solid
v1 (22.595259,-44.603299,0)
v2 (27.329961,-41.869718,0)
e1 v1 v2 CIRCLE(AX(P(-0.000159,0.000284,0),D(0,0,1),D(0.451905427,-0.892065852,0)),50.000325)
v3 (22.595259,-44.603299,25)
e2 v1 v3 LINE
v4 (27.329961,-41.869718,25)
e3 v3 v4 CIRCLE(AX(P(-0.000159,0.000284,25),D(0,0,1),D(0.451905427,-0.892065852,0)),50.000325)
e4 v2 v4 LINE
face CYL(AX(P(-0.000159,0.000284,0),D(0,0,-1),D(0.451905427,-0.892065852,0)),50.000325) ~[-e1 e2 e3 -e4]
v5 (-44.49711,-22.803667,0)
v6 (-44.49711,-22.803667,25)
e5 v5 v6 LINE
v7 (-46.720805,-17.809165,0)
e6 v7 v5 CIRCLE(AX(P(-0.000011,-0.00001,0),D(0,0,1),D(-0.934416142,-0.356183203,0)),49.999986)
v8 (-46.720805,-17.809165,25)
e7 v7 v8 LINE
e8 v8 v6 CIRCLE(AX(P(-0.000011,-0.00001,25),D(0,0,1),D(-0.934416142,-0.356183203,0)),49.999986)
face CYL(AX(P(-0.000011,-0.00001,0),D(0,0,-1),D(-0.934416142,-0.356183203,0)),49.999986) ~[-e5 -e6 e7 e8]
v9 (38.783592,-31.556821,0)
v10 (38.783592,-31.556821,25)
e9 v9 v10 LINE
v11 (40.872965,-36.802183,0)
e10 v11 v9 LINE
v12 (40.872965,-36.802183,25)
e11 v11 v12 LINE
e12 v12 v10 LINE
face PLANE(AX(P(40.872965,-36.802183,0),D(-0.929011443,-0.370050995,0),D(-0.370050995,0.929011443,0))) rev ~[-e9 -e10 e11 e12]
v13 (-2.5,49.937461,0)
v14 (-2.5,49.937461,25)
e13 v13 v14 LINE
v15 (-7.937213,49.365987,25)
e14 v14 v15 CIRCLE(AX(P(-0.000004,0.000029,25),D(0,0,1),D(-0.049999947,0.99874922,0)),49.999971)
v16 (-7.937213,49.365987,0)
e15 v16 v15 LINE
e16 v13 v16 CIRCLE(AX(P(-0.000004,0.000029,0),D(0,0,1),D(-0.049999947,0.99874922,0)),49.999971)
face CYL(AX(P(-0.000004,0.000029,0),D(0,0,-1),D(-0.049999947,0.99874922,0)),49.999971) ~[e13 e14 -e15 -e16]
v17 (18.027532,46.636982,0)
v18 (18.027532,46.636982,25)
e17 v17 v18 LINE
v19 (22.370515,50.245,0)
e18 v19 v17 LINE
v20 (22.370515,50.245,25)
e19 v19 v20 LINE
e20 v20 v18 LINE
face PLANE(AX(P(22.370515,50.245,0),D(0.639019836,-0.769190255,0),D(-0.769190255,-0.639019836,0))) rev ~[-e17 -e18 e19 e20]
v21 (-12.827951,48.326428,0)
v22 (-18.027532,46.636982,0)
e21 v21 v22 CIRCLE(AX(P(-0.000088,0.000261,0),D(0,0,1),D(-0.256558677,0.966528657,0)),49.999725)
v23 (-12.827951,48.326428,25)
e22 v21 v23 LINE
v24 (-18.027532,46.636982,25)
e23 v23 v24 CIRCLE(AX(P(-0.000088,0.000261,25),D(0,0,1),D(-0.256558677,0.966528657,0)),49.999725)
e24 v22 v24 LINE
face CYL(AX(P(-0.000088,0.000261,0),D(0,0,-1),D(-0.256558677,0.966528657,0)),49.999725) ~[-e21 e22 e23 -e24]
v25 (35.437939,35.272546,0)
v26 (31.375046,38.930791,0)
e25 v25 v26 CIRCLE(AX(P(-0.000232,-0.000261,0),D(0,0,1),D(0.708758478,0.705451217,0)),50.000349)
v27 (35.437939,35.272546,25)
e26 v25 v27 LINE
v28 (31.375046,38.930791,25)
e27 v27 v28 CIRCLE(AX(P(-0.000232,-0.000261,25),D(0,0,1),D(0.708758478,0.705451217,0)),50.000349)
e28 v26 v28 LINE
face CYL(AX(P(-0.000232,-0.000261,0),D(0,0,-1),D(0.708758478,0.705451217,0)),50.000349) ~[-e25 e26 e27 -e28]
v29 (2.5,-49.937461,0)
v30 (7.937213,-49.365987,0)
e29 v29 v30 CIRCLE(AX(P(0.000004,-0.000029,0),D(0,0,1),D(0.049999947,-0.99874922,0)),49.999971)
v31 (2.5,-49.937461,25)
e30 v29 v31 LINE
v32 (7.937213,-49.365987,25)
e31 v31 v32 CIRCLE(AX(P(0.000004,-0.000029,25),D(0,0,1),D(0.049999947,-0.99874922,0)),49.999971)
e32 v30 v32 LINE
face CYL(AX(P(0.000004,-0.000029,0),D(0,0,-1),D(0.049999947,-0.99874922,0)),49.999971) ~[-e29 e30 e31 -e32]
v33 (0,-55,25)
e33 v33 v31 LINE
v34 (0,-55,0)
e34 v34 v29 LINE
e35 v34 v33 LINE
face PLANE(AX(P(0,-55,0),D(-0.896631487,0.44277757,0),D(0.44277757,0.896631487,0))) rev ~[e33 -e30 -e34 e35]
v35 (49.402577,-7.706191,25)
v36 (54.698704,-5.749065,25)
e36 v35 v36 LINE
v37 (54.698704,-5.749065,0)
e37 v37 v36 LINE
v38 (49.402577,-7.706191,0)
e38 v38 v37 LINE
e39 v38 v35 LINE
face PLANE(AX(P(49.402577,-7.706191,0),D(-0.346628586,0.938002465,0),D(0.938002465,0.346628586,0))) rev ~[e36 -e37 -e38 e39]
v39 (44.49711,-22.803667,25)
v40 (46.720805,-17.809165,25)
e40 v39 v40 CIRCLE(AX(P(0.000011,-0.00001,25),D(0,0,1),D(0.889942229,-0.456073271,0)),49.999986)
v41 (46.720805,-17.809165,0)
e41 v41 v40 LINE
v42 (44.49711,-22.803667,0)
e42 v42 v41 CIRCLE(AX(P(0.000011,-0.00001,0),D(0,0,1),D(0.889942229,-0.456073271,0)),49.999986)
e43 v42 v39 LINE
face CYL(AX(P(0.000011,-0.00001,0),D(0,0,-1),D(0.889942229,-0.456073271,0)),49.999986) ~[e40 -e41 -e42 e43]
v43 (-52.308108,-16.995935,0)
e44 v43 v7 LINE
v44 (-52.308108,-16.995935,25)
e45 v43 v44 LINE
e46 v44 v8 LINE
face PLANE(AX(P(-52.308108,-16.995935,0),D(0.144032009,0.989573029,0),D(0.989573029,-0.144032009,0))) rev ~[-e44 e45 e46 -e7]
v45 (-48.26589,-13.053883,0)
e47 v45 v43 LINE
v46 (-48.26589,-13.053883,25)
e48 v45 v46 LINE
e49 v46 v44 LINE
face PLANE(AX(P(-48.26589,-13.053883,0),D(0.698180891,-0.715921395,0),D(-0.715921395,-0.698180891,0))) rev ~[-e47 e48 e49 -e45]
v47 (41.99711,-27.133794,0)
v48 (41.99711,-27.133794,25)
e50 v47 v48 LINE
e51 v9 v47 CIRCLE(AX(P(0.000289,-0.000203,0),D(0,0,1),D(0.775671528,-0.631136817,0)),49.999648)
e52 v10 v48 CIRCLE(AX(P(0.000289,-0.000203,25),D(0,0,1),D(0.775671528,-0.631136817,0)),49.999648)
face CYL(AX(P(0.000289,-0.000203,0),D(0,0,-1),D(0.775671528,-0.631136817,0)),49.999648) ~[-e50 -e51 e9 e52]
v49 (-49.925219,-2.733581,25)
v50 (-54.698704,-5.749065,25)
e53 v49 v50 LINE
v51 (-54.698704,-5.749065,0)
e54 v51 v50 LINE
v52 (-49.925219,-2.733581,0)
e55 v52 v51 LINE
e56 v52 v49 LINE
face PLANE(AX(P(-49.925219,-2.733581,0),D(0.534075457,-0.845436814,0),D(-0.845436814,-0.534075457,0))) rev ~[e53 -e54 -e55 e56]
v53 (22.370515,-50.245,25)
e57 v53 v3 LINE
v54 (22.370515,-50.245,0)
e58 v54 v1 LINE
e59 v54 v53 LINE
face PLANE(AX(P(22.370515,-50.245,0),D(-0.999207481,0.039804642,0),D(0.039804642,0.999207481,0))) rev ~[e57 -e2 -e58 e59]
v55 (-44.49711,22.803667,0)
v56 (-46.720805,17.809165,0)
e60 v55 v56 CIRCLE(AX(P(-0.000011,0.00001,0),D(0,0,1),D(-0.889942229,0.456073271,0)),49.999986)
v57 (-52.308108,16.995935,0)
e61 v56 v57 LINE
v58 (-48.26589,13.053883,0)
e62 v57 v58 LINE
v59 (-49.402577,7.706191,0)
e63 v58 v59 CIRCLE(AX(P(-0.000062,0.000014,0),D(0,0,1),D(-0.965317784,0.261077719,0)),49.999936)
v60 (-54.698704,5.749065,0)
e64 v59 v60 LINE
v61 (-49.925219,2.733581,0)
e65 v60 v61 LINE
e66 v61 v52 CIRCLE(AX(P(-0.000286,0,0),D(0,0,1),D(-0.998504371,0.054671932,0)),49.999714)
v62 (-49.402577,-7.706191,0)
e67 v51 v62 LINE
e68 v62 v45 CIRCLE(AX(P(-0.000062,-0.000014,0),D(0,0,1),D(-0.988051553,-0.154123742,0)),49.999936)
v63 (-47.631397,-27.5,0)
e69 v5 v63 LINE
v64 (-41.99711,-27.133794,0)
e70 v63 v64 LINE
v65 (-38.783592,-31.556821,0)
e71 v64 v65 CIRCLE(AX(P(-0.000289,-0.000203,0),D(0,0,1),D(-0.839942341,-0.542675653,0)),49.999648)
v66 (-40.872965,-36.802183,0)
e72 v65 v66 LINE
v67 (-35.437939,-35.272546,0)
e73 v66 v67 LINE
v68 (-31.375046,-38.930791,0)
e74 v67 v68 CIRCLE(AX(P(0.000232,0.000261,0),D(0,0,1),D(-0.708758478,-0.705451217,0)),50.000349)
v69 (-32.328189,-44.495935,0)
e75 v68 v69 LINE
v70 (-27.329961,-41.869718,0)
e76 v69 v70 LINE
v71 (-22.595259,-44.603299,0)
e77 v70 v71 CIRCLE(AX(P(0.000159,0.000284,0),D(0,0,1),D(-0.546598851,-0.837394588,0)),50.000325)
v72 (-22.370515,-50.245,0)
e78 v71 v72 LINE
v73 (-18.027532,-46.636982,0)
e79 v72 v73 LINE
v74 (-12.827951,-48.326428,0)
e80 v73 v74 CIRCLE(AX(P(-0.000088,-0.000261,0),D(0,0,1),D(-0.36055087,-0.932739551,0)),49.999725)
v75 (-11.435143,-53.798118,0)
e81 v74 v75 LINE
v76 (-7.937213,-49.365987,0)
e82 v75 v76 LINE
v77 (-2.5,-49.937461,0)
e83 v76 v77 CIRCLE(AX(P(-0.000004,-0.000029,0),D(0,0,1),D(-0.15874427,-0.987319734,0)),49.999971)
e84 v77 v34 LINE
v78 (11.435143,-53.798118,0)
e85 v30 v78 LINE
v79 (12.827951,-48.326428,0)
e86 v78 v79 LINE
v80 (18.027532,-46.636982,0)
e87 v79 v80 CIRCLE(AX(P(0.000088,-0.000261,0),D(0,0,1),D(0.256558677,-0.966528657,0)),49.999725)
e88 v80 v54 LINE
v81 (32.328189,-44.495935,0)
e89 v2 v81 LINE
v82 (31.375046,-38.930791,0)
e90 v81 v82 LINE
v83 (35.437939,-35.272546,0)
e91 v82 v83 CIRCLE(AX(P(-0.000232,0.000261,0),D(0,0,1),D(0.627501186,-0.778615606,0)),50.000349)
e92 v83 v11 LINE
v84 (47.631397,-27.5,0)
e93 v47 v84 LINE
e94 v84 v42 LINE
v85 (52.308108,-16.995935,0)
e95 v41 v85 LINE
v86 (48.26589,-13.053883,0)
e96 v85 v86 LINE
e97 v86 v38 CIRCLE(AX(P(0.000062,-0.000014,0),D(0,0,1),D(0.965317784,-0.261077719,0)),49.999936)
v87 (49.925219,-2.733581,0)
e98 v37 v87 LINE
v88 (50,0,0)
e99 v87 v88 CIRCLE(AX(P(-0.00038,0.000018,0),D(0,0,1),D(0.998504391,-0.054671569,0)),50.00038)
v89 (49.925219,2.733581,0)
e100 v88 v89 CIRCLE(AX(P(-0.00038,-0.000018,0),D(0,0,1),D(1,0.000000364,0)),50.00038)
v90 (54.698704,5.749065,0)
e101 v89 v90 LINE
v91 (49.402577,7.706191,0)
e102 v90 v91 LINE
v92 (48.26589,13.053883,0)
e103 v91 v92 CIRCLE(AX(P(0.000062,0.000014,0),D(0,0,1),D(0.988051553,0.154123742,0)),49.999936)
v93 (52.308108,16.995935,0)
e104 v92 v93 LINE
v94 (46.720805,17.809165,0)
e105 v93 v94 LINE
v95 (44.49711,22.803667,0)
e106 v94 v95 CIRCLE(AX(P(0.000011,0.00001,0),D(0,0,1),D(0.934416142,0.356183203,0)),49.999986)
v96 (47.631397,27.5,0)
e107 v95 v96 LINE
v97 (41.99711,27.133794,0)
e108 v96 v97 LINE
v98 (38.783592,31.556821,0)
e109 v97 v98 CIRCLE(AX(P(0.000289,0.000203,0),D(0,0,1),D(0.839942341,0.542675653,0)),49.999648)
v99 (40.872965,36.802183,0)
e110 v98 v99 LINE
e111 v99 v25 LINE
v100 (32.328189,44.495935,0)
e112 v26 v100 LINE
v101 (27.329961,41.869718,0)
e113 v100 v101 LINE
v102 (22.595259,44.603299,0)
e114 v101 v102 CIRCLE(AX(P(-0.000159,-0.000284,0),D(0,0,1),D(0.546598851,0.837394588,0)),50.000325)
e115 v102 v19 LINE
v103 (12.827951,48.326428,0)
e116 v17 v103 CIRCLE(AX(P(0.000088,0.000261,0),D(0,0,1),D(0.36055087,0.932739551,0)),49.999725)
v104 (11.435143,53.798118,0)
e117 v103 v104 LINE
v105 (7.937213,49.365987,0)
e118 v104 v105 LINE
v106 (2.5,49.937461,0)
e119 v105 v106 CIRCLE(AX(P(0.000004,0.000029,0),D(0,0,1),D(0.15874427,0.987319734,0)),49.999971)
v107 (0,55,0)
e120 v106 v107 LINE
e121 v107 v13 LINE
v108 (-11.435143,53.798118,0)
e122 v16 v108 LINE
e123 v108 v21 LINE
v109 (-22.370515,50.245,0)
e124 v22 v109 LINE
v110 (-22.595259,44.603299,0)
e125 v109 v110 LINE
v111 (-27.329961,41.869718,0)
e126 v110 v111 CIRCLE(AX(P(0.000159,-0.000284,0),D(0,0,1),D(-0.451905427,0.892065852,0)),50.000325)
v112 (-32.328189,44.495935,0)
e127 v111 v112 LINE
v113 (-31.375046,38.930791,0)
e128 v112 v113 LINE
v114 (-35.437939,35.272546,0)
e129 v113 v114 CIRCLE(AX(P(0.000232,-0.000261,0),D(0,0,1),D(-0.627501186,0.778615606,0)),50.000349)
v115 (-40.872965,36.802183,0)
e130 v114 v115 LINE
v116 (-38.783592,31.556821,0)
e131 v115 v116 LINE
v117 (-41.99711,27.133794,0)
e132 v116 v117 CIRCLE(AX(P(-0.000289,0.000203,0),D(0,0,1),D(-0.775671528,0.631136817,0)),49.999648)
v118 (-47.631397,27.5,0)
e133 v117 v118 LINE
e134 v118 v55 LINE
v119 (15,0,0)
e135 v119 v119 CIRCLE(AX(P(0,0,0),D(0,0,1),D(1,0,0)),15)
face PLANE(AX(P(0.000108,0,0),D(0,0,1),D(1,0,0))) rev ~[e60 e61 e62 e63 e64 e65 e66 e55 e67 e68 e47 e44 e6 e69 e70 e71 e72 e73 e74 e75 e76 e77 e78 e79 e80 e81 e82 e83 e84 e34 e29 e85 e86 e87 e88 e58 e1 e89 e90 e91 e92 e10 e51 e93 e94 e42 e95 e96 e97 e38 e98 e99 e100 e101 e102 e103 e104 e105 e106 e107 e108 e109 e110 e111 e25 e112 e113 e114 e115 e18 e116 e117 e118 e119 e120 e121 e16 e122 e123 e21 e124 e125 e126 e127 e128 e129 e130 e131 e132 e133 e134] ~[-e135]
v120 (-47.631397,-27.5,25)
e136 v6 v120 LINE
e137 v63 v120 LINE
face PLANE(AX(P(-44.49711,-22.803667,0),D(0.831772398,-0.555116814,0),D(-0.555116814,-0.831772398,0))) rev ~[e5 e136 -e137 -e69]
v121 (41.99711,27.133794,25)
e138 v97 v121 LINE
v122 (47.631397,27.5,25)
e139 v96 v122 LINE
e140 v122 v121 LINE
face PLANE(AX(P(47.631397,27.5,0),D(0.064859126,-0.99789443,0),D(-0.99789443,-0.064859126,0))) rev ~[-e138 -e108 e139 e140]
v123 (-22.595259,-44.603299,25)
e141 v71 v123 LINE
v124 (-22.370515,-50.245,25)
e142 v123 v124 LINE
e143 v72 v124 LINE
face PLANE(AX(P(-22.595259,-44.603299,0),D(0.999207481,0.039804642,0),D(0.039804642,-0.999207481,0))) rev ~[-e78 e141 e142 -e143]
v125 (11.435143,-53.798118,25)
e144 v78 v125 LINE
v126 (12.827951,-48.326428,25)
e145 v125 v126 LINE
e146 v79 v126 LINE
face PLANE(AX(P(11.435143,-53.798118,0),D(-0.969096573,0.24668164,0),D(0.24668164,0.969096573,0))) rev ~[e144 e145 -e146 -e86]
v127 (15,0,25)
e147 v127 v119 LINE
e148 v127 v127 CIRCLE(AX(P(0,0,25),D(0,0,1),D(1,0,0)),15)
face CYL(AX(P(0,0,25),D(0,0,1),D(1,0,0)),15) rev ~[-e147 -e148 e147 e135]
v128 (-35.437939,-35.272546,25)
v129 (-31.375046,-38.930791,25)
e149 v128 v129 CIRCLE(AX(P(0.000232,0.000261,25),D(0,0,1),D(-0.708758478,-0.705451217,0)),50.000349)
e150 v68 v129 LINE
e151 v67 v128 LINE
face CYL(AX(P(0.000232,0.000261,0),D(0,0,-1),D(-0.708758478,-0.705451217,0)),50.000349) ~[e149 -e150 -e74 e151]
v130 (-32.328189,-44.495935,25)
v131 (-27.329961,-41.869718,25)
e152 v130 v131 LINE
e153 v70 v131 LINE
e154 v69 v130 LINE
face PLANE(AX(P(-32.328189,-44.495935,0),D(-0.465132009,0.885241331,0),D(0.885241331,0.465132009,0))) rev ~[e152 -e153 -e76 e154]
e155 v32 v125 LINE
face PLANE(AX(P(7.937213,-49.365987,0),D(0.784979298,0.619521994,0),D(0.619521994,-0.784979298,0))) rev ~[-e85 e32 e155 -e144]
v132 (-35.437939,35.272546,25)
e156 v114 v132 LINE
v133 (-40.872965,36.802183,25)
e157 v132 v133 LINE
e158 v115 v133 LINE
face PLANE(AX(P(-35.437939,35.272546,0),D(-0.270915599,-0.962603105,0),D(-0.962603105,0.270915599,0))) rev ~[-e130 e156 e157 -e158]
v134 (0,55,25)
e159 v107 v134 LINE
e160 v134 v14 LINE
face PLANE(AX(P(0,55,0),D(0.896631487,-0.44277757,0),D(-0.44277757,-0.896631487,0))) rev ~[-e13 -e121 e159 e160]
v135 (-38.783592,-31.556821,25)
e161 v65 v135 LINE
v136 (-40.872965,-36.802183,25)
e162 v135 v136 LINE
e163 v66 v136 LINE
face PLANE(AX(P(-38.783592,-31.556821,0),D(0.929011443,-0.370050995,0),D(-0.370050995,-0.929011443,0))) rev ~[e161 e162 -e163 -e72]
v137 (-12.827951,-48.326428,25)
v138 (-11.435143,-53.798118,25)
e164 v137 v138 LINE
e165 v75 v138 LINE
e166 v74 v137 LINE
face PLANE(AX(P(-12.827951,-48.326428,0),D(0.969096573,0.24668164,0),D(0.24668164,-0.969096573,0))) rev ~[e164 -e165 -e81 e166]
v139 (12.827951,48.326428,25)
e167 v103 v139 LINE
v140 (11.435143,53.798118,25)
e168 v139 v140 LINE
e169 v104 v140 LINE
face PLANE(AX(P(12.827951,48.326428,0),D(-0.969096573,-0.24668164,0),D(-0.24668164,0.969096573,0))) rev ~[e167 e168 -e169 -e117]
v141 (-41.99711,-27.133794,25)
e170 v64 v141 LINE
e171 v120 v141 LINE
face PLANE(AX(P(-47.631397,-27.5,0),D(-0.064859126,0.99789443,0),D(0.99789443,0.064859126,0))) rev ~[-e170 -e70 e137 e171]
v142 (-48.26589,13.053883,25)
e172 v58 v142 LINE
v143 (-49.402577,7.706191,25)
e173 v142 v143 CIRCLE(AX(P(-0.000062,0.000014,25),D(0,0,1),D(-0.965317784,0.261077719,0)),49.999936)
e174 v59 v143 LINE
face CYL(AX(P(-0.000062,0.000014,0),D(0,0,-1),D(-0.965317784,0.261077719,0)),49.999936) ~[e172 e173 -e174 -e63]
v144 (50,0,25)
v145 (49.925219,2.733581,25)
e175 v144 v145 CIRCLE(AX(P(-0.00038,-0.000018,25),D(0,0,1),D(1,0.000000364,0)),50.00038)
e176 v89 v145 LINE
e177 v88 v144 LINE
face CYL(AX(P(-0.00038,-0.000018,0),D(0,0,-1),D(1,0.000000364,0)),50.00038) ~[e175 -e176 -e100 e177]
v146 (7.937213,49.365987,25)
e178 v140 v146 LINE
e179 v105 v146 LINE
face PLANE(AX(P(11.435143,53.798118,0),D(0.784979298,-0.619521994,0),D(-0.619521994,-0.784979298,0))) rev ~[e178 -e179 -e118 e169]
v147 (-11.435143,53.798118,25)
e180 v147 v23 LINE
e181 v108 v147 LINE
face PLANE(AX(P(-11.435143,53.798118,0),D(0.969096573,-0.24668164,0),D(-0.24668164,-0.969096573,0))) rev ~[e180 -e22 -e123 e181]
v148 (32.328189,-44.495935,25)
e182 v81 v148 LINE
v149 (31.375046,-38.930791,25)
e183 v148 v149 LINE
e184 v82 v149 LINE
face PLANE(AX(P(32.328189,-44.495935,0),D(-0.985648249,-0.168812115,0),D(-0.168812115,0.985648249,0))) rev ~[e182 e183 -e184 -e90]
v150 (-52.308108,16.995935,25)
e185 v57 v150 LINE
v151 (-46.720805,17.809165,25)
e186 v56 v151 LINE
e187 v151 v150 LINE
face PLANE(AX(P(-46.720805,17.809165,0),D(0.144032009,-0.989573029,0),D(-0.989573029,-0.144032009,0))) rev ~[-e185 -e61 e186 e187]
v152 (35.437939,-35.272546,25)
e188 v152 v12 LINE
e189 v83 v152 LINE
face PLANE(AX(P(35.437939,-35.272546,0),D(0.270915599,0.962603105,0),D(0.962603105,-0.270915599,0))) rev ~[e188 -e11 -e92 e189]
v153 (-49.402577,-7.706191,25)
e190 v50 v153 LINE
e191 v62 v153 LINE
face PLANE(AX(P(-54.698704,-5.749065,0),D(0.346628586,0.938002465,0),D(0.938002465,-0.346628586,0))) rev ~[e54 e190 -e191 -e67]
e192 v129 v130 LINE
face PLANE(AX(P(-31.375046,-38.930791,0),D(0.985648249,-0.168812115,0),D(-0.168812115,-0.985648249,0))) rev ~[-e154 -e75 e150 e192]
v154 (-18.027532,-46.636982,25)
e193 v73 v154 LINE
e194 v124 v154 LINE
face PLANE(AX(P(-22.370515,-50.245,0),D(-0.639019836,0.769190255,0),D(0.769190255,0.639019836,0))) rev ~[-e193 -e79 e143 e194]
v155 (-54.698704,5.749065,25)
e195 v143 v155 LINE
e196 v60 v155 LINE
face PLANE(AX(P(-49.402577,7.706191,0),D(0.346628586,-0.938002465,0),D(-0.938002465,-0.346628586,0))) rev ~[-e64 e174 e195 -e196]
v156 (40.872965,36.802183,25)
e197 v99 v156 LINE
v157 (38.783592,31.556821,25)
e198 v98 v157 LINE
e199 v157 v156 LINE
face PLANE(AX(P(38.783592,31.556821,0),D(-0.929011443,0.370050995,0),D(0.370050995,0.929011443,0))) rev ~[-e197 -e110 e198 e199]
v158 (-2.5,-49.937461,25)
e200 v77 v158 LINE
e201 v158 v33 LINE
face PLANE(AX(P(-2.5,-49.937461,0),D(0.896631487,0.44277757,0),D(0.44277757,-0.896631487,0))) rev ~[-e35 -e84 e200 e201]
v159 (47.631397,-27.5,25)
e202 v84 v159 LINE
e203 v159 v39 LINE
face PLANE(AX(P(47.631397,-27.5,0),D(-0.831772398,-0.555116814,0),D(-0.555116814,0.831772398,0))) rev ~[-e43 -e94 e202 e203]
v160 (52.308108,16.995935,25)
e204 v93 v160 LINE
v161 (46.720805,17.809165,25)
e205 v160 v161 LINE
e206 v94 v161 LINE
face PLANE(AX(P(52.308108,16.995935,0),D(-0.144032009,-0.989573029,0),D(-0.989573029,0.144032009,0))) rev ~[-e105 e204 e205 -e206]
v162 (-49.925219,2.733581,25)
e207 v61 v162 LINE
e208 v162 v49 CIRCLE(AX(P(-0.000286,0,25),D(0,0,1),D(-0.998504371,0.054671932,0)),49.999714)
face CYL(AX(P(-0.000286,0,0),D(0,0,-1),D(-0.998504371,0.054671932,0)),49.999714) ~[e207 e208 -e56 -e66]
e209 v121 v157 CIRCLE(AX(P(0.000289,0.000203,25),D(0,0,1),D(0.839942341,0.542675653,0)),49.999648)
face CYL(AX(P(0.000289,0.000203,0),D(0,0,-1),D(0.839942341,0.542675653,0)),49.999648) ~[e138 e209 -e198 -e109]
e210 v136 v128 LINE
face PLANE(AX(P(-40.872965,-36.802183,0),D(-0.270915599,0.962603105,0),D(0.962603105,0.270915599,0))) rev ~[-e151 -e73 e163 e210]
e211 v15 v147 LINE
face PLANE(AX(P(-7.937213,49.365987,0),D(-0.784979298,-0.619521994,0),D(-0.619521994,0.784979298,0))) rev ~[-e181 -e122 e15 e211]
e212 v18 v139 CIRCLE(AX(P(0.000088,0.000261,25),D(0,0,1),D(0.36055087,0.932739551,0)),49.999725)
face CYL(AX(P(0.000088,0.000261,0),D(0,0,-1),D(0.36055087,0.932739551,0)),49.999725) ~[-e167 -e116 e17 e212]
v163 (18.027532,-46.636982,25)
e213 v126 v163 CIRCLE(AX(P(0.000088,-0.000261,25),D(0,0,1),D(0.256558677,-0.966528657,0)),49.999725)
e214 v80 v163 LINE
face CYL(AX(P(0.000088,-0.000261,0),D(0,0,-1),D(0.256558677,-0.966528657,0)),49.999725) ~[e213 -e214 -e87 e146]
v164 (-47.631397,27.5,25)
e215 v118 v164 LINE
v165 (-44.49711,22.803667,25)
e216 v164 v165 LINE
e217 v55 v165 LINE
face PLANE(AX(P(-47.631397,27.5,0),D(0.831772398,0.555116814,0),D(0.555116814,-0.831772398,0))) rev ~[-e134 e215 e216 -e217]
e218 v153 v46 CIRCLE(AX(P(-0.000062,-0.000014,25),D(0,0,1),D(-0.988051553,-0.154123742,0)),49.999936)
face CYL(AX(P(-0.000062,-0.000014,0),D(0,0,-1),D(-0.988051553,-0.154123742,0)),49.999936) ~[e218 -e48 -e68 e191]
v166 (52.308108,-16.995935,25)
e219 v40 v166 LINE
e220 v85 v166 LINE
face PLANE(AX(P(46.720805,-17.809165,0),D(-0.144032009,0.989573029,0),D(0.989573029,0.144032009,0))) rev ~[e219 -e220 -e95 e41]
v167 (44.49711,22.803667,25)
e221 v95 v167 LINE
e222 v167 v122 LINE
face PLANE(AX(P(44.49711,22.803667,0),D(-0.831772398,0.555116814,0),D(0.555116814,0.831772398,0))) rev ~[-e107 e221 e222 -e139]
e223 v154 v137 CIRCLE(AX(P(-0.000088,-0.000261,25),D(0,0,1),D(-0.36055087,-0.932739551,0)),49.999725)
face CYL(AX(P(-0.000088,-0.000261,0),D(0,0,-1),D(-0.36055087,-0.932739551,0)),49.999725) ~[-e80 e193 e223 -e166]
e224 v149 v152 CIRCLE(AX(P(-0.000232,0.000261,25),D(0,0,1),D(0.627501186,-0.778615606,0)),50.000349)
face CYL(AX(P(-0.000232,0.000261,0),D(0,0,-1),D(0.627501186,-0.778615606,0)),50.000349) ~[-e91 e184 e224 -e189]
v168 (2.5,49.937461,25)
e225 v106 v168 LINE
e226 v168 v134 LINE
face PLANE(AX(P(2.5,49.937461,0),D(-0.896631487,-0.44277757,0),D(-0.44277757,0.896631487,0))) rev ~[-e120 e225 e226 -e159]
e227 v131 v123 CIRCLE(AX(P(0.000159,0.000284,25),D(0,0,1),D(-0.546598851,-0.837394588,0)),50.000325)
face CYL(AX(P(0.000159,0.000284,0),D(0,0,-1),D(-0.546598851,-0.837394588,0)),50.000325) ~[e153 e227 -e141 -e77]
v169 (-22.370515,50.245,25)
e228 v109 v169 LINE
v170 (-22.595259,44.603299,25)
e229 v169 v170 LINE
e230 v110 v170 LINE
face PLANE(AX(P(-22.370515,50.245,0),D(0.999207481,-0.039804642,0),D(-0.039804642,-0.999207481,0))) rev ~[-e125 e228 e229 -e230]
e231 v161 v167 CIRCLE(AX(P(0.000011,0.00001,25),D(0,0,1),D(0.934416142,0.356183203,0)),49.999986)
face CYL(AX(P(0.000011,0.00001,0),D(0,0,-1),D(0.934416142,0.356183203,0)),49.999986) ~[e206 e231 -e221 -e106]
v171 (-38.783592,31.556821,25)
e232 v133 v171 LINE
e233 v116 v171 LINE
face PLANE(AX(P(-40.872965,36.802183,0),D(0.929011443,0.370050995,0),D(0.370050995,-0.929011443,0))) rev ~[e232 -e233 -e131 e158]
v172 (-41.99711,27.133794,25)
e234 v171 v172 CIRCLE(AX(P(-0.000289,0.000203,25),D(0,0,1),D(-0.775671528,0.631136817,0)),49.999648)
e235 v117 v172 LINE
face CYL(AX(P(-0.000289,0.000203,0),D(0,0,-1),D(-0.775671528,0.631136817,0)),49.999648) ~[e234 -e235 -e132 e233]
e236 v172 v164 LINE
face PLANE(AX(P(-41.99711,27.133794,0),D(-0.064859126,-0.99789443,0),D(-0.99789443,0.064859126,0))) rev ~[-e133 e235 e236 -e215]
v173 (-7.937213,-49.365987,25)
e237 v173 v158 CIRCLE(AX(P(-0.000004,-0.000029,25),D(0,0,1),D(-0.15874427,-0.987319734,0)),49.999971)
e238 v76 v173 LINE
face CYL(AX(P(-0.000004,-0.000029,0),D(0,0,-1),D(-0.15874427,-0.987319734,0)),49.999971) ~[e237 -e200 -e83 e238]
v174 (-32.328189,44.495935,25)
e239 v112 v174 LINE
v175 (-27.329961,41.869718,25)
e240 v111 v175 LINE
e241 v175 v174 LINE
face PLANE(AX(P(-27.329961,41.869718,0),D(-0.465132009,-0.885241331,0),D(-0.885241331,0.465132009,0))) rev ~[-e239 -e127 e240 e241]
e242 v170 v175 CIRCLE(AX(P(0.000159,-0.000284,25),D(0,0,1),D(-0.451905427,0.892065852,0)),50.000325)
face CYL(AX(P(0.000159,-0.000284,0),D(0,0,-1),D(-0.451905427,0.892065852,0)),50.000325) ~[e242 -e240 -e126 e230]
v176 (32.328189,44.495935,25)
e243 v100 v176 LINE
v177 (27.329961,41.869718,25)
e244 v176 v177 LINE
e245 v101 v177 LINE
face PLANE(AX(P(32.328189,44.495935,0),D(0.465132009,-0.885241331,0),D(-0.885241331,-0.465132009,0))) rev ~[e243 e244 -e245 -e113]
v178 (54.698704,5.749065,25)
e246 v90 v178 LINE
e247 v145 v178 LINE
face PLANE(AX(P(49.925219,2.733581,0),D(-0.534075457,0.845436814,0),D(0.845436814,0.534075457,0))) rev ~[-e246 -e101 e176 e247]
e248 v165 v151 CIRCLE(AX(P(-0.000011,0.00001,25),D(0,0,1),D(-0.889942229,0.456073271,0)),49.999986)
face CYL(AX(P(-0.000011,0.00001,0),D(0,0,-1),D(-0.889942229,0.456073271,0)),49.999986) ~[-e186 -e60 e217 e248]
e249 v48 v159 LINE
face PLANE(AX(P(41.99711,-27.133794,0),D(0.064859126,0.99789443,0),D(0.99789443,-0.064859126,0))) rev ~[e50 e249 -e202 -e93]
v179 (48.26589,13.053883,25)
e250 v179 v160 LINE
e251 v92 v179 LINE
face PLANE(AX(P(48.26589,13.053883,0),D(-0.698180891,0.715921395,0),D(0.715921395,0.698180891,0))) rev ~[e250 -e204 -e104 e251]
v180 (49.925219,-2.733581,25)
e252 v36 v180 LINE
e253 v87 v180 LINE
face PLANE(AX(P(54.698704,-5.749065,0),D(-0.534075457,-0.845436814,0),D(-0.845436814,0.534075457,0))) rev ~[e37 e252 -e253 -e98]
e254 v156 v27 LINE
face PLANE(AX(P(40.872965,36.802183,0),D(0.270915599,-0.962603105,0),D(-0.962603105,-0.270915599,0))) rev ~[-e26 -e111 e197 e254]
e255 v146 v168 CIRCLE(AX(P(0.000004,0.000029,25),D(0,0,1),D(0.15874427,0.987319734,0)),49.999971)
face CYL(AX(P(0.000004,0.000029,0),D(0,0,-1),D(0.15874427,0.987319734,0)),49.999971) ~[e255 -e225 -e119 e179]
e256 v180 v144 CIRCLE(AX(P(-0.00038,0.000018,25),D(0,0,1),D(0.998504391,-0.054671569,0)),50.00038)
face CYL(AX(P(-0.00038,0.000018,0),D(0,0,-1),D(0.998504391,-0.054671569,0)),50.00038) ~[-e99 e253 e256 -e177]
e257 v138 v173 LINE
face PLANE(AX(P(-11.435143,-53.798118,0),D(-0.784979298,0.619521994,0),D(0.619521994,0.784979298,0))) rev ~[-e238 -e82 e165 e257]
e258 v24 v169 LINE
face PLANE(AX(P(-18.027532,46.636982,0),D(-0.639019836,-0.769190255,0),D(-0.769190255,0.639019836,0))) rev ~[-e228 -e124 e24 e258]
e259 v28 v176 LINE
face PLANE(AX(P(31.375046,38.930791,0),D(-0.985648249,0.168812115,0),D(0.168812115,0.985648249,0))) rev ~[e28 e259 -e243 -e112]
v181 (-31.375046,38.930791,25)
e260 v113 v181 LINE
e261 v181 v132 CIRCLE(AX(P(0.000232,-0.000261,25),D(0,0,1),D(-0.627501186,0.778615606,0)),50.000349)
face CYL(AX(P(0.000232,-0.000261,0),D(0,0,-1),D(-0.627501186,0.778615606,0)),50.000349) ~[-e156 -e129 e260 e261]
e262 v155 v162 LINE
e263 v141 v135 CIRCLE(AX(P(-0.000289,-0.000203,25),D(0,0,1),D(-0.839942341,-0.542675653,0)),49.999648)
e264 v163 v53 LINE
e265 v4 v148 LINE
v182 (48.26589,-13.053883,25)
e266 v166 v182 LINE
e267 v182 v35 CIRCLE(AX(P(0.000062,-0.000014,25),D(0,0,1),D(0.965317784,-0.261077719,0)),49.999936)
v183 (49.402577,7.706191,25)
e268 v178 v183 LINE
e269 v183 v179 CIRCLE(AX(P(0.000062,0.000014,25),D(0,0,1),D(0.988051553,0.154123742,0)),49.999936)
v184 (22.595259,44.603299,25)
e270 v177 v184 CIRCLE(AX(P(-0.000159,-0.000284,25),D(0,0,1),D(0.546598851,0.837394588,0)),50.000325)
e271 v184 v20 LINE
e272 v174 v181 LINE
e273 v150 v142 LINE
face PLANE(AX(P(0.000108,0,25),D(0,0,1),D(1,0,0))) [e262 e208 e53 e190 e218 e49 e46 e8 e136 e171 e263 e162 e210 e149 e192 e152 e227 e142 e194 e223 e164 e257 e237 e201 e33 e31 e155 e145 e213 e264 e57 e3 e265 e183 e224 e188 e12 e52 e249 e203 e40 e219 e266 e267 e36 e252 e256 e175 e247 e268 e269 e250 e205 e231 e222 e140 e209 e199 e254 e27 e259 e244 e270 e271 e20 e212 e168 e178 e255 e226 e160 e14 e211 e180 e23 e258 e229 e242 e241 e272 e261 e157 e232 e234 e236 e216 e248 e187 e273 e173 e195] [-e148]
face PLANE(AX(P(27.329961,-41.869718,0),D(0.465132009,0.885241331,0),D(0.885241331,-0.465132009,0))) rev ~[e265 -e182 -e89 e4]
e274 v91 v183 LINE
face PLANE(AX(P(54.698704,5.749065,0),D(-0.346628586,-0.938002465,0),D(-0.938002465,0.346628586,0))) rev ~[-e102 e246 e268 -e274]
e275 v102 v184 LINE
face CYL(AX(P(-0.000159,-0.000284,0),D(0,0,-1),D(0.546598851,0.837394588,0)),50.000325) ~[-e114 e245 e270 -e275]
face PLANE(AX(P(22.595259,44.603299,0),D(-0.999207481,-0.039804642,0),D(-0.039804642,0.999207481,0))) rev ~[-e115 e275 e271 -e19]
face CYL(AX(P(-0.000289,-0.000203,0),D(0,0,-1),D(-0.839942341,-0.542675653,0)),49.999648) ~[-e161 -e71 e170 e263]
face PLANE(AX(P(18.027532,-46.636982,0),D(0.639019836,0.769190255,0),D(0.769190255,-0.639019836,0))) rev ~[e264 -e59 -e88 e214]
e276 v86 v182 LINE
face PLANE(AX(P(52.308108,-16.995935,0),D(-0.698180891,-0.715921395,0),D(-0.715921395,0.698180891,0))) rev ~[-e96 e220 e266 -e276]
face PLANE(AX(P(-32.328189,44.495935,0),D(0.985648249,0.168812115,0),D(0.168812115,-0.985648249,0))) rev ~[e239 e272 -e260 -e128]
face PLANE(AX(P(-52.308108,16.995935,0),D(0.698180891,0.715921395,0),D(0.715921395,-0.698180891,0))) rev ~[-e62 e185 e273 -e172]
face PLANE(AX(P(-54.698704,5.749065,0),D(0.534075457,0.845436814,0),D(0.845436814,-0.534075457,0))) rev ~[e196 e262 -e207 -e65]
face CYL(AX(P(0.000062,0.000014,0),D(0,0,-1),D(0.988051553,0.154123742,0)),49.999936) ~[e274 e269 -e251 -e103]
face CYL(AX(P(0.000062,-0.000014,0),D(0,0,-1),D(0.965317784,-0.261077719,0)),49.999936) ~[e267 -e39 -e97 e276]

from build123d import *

# Parameters (mm, degrees)
F1_DEPTH = 25
F2_R     = 15
F3_DEPTH = 25


with BuildPart() as f1:
    # F0 (on Top) → F1 (new body)
    with BuildSketch(Plane.XY):
        with BuildLine():
            ThreePointArc((49.925219, -2.733581), (49.981301, -1.367302), (50, 0))
            ThreePointArc((50, 0), (49.981301, 1.367302), (49.925219, 2.733581))
            ThreePointArc((49.925219, 2.733581), (49.726095, 5.226423), (49.402577, 7.706191))
            ThreePointArc((49.402577, 7.706191), (48.90738, 10.395585), (48.26589, 13.053883))
            ThreePointArc((48.26589, 13.053883), (47.552826, 15.45085), (46.720805, 17.809165))
            ThreePointArc((46.720805, 17.809165), (45.677273, 20.336832), (44.49711, 22.803667))
            ThreePointArc((44.49711, 22.803667), (43.30127, 25), (41.99711, 27.133794))
            ThreePointArc((41.99711, 27.133794), (40.45085, 29.389263), (38.783592, 31.556821))
            ThreePointArc((38.783592, 31.556821), (37.157241, 33.45653), (35.437939, 35.272546))
            ThreePointArc((35.437939, 35.272546), (33.45653, 37.157241), (31.375046, 38.930791))
            ThreePointArc((31.375046, 38.930791), (29.389263, 40.45085), (27.329961, 41.869718))
            ThreePointArc((27.329961, 41.869718), (25, 43.30127), (22.595259, 44.603299))
            ThreePointArc((22.595259, 44.603299), (20.336832, 45.677273), (18.027532, 46.636982))
            ThreePointArc((18.027532, 46.636982), (15.45085, 47.552826), (12.827951, 48.326428))
            ThreePointArc((12.827951, 48.326428), (10.395585, 48.90738), (7.937213, 49.365987))
            ThreePointArc((7.937213, 49.365987), (5.226423, 49.726095), (2.5, 49.937461))
            ThreePointArc((2.5, 49.937461), (0, 50), (-2.5, 49.937461))
            ThreePointArc((-2.5, 49.937461), (-5.226423, 49.726095), (-7.937213, 49.365987))
            ThreePointArc((-7.937213, 49.365987), (-10.395585, 48.90738), (-12.827951, 48.326428))
            ThreePointArc((-12.827951, 48.326428), (-15.45085, 47.552826), (-18.027532, 46.636982))
            ThreePointArc((-18.027532, 46.636982), (-20.336832, 45.677273), (-22.595259, 44.603299))
            ThreePointArc((-22.595259, 44.603299), (-25, 43.30127), (-27.329961, 41.869718))
            ThreePointArc((-27.329961, 41.869718), (-29.389263, 40.45085), (-31.375046, 38.930791))
            ThreePointArc((-31.375046, 38.930791), (-33.45653, 37.157241), (-35.437939, 35.272546))
            ThreePointArc((-35.437939, 35.272546), (-37.157241, 33.45653), (-38.783592, 31.556821))
            ThreePointArc((-38.783592, 31.556821), (-40.45085, 29.389263), (-41.99711, 27.133794))
            ThreePointArc((-41.99711, 27.133794), (-43.30127, 25), (-44.49711, 22.803667))
            ThreePointArc((-44.49711, 22.803667), (-45.677273, 20.336832), (-46.720805, 17.809165))
            ThreePointArc((-46.720805, 17.809165), (-47.552826, 15.45085), (-48.26589, 13.053883))
            ThreePointArc((-48.26589, 13.053883), (-48.90738, 10.395585), (-49.402577, 7.706191))
            ThreePointArc((-49.402577, 7.706191), (-49.726095, 5.226423), (-49.925219, 2.733581))
            ThreePointArc((-49.925219, 2.733581), (-50, 0), (-49.925219, -2.733581))
            ThreePointArc((-49.925219, -2.733581), (-49.726095, -5.226423), (-49.402577, -7.706191))
            ThreePointArc((-49.402577, -7.706191), (-48.90738, -10.395585), (-48.26589, -13.053883))
            ThreePointArc((-48.26589, -13.053883), (-47.552826, -15.45085), (-46.720805, -17.809165))
            ThreePointArc((-46.720805, -17.809165), (-45.677273, -20.336832), (-44.49711, -22.803667))
            ThreePointArc((-44.49711, -22.803667), (-43.30127, -25), (-41.99711, -27.133794))
            ThreePointArc((-41.99711, -27.133794), (-40.45085, -29.389263), (-38.783592, -31.556821))
            ThreePointArc((-38.783592, -31.556821), (-37.157241, -33.45653), (-35.437939, -35.272546))
            ThreePointArc((-35.437939, -35.272546), (-33.45653, -37.157241), (-31.375046, -38.930791))
            ThreePointArc((-31.375046, -38.930791), (-29.389263, -40.45085), (-27.329961, -41.869718))
            ThreePointArc((-27.329961, -41.869718), (-25, -43.30127), (-22.595259, -44.603299))
            ThreePointArc((-22.595259, -44.603299), (-20.336832, -45.677273), (-18.027532, -46.636982))
            ThreePointArc((-18.027532, -46.636982), (-15.45085, -47.552826), (-12.827951, -48.326428))
            ThreePointArc((-12.827951, -48.326428), (-10.395585, -48.90738), (-7.937213, -49.365987))
            ThreePointArc((-7.937213, -49.365987), (-5.226423, -49.726095), (-2.5, -49.937461))
            ThreePointArc((-2.5, -49.937461), (0, -50), (2.5, -49.937461))
            ThreePointArc((2.5, -49.937461), (5.226423, -49.726095), (7.937213, -49.365987))
            ThreePointArc((7.937213, -49.365987), (10.395585, -48.90738), (12.827951, -48.326428))
            ThreePointArc((12.827951, -48.326428), (15.45085, -47.552826), (18.027532, -46.636982))
            ThreePointArc((18.027532, -46.636982), (20.336832, -45.677273), (22.595259, -44.603299))
            ThreePointArc((22.595259, -44.603299), (25, -43.30127), (27.329961, -41.869718))
            ThreePointArc((27.329961, -41.869718), (29.389263, -40.45085), (31.375046, -38.930791))
            ThreePointArc((31.375046, -38.930791), (33.45653, -37.157241), (35.437939, -35.272546))
            ThreePointArc((35.437939, -35.272546), (37.157241, -33.45653), (38.783592, -31.556821))
            ThreePointArc((38.783592, -31.556821), (40.45085, -29.389263), (41.99711, -27.133794))
            ThreePointArc((41.99711, -27.133794), (43.30127, -25), (44.49711, -22.803667))
            ThreePointArc((44.49711, -22.803667), (45.677273, -20.336832), (46.720805, -17.809165))
            ThreePointArc((46.720805, -17.809165), (47.552826, -15.45085), (48.26589, -13.053883))
            ThreePointArc((48.26589, -13.053883), (48.90738, -10.395585), (49.402577, -7.706191))
            ThreePointArc((49.402577, -7.706191), (49.726095, -5.226423), (49.925219, -2.733581))
        make_face()
        with BuildLine():
            ThreePointArc((49.402577, 7.706191), (49.726095, 5.226423), (49.925219, 2.733581))
            Line((49.925219, 2.733581), (54.698704, 5.749065))
            Line((54.698704, 5.749065), (49.402577, 7.706191))
        make_face()
        with BuildLine():
            Line((54.698704, -5.749065), (49.925219, -2.733581))
            ThreePointArc((49.925219, -2.733581), (49.726095, -5.226423), (49.402577, -7.706191))
            Line((49.402577, -7.706191), (54.698704, -5.749065))
        make_face()
        with BuildLine():
            ThreePointArc((46.720805, 17.809165), (47.552826, 15.45085), (48.26589, 13.053883))
            Line((48.26589, 13.053883), (52.308108, 16.995935))
            Line((52.308108, 16.995935), (46.720805, 17.809165))
        make_face()
        with BuildLine():
            Line((52.308108, -16.995935), (48.26589, -13.053883))
            ThreePointArc((48.26589, -13.053883), (47.552826, -15.45085), (46.720805, -17.809165))
            Line((46.720805, -17.809165), (52.308108, -16.995935))
        make_face()
        with BuildLine():
            ThreePointArc((41.99711, 27.133794), (43.30127, 25), (44.49711, 22.803667))
            Line((44.49711, 22.803667), (47.631397, 27.5))
            Line((47.631397, 27.5), (41.99711, 27.133794))
        make_face()
        with BuildLine():
            Line((47.631397, -27.5), (44.49711, -22.803667))
            ThreePointArc((44.49711, -22.803667), (43.30127, -25), (41.99711, -27.133794))
            Line((41.99711, -27.133794), (47.631397, -27.5))
        make_face()
        with BuildLine():
            ThreePointArc((35.437939, 35.272546), (37.157241, 33.45653), (38.783592, 31.556821))
            Line((38.783592, 31.556821), (40.872965, 36.802183))
            Line((40.872965, 36.802183), (35.437939, 35.272546))
        make_face()
        with BuildLine():
            Line((40.872965, -36.802183), (38.783592, -31.556821))
            ThreePointArc((38.783592, -31.556821), (37.157241, -33.45653), (35.437939, -35.272546))
            Line((35.437939, -35.272546), (40.872965, -36.802183))
        make_face()
        with BuildLine():
            ThreePointArc((27.329961, 41.869718), (29.389263, 40.45085), (31.375046, 38.930791))
            Line((31.375046, 38.930791), (32.328189, 44.495935))
            Line((32.328189, 44.495935), (27.329961, 41.869718))
        make_face()
        with BuildLine():
            Line((32.328189, -44.495935), (31.375046, -38.930791))
            ThreePointArc((31.375046, -38.930791), (29.389263, -40.45085), (27.329961, -41.869718))
            Line((27.329961, -41.869718), (32.328189, -44.495935))
        make_face()
        with BuildLine():
            ThreePointArc((18.027532, 46.636982), (20.336832, 45.677273), (22.595259, 44.603299))
            Line((22.595259, 44.603299), (22.370515, 50.245))
            Line((22.370515, 50.245), (18.027532, 46.636982))
        make_face()
        with BuildLine():
            Line((22.370515, -50.245), (22.595259, -44.603299))
            ThreePointArc((22.595259, -44.603299), (20.336832, -45.677273), (18.027532, -46.636982))
            Line((18.027532, -46.636982), (22.370515, -50.245))
        make_face()
        with BuildLine():
            ThreePointArc((7.937213, 49.365987), (10.395585, 48.90738), (12.827951, 48.326428))
            Line((12.827951, 48.326428), (11.435143, 53.798118))
            Line((11.435143, 53.798118), (7.937213, 49.365987))
        make_face()
        with BuildLine():
            Line((11.435143, -53.798118), (12.827951, -48.326428))
            ThreePointArc((12.827951, -48.326428), (10.395585, -48.90738), (7.937213, -49.365987))
            Line((7.937213, -49.365987), (11.435143, -53.798118))
        make_face()
        with BuildLine():
            ThreePointArc((-2.5, 49.937461), (0, 50), (2.5, 49.937461))
            Line((2.5, 49.937461), (0, 55))
            Line((0, 55), (-2.5, 49.937461))
        make_face()
        with BuildLine():
            Line((0, -55), (2.5, -49.937461))
            ThreePointArc((2.5, -49.937461), (0, -50), (-2.5, -49.937461))
            Line((-2.5, -49.937461), (0, -55))
        make_face()
        with BuildLine():
            ThreePointArc((-12.827951, 48.326428), (-10.395585, 48.90738), (-7.937213, 49.365987))
            Line((-7.937213, 49.365987), (-11.435143, 53.798118))
            Line((-11.435143, 53.798118), (-12.827951, 48.326428))
        make_face()
        with BuildLine():
            Line((-11.435143, -53.798118), (-7.937213, -49.365987))
            ThreePointArc((-7.937213, -49.365987), (-10.395585, -48.90738), (-12.827951, -48.326428))
            Line((-12.827951, -48.326428), (-11.435143, -53.798118))
        make_face()
        with BuildLine():
            ThreePointArc((-22.595259, 44.603299), (-20.336832, 45.677273), (-18.027532, 46.636982))
            Line((-18.027532, 46.636982), (-22.370515, 50.245))
            Line((-22.370515, 50.245), (-22.595259, 44.603299))
        make_face()
        with BuildLine():
            Line((-22.370515, -50.245), (-18.027532, -46.636982))
            ThreePointArc((-18.027532, -46.636982), (-20.336832, -45.677273), (-22.595259, -44.603299))
            Line((-22.595259, -44.603299), (-22.370515, -50.245))
        make_face()
        with BuildLine():
            ThreePointArc((-31.375046, 38.930791), (-29.389263, 40.45085), (-27.329961, 41.869718))
            Line((-27.329961, 41.869718), (-32.328189, 44.495935))
            Line((-32.328189, 44.495935), (-31.375046, 38.930791))
        make_face()
        with BuildLine():
            Line((-32.328189, -44.495935), (-27.329961, -41.869718))
            ThreePointArc((-27.329961, -41.869718), (-29.389263, -40.45085), (-31.375046, -38.930791))
            Line((-31.375046, -38.930791), (-32.328189, -44.495935))
        make_face()
        with BuildLine():
            ThreePointArc((-38.783592, 31.556821), (-37.157241, 33.45653), (-35.437939, 35.272546))
            Line((-35.437939, 35.272546), (-40.872965, 36.802183))
            Line((-40.872965, 36.802183), (-38.783592, 31.556821))
        make_face()
        with BuildLine():
            Line((-40.872965, -36.802183), (-35.437939, -35.272546))
            ThreePointArc((-35.437939, -35.272546), (-37.157241, -33.45653), (-38.783592, -31.556821))
            Line((-38.783592, -31.556821), (-40.872965, -36.802183))
        make_face()
        with BuildLine():
            ThreePointArc((-44.49711, 22.803667), (-43.30127, 25), (-41.99711, 27.133794))
            Line((-41.99711, 27.133794), (-47.631397, 27.5))
            Line((-47.631397, 27.5), (-44.49711, 22.803667))
        make_face()
        with BuildLine():
            Line((-47.631397, -27.5), (-41.99711, -27.133794))
            ThreePointArc((-41.99711, -27.133794), (-43.30127, -25), (-44.49711, -22.803667))
            Line((-44.49711, -22.803667), (-47.631397, -27.5))
        make_face()
        with BuildLine():
            ThreePointArc((-48.26589, 13.053883), (-47.552826, 15.45085), (-46.720805, 17.809165))
            Line((-46.720805, 17.809165), (-52.308108, 16.995935))
            Line((-52.308108, 16.995935), (-48.26589, 13.053883))
        make_face()
        with BuildLine():
            Line((-52.308108, -16.995935), (-46.720805, -17.809165))
            ThreePointArc((-46.720805, -17.809165), (-47.552826, -15.45085), (-48.26589, -13.053883))
            Line((-48.26589, -13.053883), (-52.308108, -16.995935))
        make_face()
        with BuildLine():
            ThreePointArc((-49.925219, 2.733581), (-49.726095, 5.226423), (-49.402577, 7.706191))
            Line((-49.402577, 7.706191), (-54.698704, 5.749065))
            Line((-54.698704, 5.749065), (-49.925219, 2.733581))
        make_face()
        with BuildLine():
            Line((-54.698704, -5.749065), (-49.402577, -7.706191))
            ThreePointArc((-49.402577, -7.706191), (-49.726095, -5.226423), (-49.925219, -2.733581))
            Line((-49.925219, -2.733581), (-54.698704, -5.749065))
        make_face()
    extrude(amount=F1_DEPTH)

    # F2 (on face) → F3 (cut)
    with BuildSketch(Plane.XY.offset(25)):
        Circle(F2_R)
    extrude(amount=-F3_DEPTH, mode=Mode.SUBTRACT)


solid = f1.part
